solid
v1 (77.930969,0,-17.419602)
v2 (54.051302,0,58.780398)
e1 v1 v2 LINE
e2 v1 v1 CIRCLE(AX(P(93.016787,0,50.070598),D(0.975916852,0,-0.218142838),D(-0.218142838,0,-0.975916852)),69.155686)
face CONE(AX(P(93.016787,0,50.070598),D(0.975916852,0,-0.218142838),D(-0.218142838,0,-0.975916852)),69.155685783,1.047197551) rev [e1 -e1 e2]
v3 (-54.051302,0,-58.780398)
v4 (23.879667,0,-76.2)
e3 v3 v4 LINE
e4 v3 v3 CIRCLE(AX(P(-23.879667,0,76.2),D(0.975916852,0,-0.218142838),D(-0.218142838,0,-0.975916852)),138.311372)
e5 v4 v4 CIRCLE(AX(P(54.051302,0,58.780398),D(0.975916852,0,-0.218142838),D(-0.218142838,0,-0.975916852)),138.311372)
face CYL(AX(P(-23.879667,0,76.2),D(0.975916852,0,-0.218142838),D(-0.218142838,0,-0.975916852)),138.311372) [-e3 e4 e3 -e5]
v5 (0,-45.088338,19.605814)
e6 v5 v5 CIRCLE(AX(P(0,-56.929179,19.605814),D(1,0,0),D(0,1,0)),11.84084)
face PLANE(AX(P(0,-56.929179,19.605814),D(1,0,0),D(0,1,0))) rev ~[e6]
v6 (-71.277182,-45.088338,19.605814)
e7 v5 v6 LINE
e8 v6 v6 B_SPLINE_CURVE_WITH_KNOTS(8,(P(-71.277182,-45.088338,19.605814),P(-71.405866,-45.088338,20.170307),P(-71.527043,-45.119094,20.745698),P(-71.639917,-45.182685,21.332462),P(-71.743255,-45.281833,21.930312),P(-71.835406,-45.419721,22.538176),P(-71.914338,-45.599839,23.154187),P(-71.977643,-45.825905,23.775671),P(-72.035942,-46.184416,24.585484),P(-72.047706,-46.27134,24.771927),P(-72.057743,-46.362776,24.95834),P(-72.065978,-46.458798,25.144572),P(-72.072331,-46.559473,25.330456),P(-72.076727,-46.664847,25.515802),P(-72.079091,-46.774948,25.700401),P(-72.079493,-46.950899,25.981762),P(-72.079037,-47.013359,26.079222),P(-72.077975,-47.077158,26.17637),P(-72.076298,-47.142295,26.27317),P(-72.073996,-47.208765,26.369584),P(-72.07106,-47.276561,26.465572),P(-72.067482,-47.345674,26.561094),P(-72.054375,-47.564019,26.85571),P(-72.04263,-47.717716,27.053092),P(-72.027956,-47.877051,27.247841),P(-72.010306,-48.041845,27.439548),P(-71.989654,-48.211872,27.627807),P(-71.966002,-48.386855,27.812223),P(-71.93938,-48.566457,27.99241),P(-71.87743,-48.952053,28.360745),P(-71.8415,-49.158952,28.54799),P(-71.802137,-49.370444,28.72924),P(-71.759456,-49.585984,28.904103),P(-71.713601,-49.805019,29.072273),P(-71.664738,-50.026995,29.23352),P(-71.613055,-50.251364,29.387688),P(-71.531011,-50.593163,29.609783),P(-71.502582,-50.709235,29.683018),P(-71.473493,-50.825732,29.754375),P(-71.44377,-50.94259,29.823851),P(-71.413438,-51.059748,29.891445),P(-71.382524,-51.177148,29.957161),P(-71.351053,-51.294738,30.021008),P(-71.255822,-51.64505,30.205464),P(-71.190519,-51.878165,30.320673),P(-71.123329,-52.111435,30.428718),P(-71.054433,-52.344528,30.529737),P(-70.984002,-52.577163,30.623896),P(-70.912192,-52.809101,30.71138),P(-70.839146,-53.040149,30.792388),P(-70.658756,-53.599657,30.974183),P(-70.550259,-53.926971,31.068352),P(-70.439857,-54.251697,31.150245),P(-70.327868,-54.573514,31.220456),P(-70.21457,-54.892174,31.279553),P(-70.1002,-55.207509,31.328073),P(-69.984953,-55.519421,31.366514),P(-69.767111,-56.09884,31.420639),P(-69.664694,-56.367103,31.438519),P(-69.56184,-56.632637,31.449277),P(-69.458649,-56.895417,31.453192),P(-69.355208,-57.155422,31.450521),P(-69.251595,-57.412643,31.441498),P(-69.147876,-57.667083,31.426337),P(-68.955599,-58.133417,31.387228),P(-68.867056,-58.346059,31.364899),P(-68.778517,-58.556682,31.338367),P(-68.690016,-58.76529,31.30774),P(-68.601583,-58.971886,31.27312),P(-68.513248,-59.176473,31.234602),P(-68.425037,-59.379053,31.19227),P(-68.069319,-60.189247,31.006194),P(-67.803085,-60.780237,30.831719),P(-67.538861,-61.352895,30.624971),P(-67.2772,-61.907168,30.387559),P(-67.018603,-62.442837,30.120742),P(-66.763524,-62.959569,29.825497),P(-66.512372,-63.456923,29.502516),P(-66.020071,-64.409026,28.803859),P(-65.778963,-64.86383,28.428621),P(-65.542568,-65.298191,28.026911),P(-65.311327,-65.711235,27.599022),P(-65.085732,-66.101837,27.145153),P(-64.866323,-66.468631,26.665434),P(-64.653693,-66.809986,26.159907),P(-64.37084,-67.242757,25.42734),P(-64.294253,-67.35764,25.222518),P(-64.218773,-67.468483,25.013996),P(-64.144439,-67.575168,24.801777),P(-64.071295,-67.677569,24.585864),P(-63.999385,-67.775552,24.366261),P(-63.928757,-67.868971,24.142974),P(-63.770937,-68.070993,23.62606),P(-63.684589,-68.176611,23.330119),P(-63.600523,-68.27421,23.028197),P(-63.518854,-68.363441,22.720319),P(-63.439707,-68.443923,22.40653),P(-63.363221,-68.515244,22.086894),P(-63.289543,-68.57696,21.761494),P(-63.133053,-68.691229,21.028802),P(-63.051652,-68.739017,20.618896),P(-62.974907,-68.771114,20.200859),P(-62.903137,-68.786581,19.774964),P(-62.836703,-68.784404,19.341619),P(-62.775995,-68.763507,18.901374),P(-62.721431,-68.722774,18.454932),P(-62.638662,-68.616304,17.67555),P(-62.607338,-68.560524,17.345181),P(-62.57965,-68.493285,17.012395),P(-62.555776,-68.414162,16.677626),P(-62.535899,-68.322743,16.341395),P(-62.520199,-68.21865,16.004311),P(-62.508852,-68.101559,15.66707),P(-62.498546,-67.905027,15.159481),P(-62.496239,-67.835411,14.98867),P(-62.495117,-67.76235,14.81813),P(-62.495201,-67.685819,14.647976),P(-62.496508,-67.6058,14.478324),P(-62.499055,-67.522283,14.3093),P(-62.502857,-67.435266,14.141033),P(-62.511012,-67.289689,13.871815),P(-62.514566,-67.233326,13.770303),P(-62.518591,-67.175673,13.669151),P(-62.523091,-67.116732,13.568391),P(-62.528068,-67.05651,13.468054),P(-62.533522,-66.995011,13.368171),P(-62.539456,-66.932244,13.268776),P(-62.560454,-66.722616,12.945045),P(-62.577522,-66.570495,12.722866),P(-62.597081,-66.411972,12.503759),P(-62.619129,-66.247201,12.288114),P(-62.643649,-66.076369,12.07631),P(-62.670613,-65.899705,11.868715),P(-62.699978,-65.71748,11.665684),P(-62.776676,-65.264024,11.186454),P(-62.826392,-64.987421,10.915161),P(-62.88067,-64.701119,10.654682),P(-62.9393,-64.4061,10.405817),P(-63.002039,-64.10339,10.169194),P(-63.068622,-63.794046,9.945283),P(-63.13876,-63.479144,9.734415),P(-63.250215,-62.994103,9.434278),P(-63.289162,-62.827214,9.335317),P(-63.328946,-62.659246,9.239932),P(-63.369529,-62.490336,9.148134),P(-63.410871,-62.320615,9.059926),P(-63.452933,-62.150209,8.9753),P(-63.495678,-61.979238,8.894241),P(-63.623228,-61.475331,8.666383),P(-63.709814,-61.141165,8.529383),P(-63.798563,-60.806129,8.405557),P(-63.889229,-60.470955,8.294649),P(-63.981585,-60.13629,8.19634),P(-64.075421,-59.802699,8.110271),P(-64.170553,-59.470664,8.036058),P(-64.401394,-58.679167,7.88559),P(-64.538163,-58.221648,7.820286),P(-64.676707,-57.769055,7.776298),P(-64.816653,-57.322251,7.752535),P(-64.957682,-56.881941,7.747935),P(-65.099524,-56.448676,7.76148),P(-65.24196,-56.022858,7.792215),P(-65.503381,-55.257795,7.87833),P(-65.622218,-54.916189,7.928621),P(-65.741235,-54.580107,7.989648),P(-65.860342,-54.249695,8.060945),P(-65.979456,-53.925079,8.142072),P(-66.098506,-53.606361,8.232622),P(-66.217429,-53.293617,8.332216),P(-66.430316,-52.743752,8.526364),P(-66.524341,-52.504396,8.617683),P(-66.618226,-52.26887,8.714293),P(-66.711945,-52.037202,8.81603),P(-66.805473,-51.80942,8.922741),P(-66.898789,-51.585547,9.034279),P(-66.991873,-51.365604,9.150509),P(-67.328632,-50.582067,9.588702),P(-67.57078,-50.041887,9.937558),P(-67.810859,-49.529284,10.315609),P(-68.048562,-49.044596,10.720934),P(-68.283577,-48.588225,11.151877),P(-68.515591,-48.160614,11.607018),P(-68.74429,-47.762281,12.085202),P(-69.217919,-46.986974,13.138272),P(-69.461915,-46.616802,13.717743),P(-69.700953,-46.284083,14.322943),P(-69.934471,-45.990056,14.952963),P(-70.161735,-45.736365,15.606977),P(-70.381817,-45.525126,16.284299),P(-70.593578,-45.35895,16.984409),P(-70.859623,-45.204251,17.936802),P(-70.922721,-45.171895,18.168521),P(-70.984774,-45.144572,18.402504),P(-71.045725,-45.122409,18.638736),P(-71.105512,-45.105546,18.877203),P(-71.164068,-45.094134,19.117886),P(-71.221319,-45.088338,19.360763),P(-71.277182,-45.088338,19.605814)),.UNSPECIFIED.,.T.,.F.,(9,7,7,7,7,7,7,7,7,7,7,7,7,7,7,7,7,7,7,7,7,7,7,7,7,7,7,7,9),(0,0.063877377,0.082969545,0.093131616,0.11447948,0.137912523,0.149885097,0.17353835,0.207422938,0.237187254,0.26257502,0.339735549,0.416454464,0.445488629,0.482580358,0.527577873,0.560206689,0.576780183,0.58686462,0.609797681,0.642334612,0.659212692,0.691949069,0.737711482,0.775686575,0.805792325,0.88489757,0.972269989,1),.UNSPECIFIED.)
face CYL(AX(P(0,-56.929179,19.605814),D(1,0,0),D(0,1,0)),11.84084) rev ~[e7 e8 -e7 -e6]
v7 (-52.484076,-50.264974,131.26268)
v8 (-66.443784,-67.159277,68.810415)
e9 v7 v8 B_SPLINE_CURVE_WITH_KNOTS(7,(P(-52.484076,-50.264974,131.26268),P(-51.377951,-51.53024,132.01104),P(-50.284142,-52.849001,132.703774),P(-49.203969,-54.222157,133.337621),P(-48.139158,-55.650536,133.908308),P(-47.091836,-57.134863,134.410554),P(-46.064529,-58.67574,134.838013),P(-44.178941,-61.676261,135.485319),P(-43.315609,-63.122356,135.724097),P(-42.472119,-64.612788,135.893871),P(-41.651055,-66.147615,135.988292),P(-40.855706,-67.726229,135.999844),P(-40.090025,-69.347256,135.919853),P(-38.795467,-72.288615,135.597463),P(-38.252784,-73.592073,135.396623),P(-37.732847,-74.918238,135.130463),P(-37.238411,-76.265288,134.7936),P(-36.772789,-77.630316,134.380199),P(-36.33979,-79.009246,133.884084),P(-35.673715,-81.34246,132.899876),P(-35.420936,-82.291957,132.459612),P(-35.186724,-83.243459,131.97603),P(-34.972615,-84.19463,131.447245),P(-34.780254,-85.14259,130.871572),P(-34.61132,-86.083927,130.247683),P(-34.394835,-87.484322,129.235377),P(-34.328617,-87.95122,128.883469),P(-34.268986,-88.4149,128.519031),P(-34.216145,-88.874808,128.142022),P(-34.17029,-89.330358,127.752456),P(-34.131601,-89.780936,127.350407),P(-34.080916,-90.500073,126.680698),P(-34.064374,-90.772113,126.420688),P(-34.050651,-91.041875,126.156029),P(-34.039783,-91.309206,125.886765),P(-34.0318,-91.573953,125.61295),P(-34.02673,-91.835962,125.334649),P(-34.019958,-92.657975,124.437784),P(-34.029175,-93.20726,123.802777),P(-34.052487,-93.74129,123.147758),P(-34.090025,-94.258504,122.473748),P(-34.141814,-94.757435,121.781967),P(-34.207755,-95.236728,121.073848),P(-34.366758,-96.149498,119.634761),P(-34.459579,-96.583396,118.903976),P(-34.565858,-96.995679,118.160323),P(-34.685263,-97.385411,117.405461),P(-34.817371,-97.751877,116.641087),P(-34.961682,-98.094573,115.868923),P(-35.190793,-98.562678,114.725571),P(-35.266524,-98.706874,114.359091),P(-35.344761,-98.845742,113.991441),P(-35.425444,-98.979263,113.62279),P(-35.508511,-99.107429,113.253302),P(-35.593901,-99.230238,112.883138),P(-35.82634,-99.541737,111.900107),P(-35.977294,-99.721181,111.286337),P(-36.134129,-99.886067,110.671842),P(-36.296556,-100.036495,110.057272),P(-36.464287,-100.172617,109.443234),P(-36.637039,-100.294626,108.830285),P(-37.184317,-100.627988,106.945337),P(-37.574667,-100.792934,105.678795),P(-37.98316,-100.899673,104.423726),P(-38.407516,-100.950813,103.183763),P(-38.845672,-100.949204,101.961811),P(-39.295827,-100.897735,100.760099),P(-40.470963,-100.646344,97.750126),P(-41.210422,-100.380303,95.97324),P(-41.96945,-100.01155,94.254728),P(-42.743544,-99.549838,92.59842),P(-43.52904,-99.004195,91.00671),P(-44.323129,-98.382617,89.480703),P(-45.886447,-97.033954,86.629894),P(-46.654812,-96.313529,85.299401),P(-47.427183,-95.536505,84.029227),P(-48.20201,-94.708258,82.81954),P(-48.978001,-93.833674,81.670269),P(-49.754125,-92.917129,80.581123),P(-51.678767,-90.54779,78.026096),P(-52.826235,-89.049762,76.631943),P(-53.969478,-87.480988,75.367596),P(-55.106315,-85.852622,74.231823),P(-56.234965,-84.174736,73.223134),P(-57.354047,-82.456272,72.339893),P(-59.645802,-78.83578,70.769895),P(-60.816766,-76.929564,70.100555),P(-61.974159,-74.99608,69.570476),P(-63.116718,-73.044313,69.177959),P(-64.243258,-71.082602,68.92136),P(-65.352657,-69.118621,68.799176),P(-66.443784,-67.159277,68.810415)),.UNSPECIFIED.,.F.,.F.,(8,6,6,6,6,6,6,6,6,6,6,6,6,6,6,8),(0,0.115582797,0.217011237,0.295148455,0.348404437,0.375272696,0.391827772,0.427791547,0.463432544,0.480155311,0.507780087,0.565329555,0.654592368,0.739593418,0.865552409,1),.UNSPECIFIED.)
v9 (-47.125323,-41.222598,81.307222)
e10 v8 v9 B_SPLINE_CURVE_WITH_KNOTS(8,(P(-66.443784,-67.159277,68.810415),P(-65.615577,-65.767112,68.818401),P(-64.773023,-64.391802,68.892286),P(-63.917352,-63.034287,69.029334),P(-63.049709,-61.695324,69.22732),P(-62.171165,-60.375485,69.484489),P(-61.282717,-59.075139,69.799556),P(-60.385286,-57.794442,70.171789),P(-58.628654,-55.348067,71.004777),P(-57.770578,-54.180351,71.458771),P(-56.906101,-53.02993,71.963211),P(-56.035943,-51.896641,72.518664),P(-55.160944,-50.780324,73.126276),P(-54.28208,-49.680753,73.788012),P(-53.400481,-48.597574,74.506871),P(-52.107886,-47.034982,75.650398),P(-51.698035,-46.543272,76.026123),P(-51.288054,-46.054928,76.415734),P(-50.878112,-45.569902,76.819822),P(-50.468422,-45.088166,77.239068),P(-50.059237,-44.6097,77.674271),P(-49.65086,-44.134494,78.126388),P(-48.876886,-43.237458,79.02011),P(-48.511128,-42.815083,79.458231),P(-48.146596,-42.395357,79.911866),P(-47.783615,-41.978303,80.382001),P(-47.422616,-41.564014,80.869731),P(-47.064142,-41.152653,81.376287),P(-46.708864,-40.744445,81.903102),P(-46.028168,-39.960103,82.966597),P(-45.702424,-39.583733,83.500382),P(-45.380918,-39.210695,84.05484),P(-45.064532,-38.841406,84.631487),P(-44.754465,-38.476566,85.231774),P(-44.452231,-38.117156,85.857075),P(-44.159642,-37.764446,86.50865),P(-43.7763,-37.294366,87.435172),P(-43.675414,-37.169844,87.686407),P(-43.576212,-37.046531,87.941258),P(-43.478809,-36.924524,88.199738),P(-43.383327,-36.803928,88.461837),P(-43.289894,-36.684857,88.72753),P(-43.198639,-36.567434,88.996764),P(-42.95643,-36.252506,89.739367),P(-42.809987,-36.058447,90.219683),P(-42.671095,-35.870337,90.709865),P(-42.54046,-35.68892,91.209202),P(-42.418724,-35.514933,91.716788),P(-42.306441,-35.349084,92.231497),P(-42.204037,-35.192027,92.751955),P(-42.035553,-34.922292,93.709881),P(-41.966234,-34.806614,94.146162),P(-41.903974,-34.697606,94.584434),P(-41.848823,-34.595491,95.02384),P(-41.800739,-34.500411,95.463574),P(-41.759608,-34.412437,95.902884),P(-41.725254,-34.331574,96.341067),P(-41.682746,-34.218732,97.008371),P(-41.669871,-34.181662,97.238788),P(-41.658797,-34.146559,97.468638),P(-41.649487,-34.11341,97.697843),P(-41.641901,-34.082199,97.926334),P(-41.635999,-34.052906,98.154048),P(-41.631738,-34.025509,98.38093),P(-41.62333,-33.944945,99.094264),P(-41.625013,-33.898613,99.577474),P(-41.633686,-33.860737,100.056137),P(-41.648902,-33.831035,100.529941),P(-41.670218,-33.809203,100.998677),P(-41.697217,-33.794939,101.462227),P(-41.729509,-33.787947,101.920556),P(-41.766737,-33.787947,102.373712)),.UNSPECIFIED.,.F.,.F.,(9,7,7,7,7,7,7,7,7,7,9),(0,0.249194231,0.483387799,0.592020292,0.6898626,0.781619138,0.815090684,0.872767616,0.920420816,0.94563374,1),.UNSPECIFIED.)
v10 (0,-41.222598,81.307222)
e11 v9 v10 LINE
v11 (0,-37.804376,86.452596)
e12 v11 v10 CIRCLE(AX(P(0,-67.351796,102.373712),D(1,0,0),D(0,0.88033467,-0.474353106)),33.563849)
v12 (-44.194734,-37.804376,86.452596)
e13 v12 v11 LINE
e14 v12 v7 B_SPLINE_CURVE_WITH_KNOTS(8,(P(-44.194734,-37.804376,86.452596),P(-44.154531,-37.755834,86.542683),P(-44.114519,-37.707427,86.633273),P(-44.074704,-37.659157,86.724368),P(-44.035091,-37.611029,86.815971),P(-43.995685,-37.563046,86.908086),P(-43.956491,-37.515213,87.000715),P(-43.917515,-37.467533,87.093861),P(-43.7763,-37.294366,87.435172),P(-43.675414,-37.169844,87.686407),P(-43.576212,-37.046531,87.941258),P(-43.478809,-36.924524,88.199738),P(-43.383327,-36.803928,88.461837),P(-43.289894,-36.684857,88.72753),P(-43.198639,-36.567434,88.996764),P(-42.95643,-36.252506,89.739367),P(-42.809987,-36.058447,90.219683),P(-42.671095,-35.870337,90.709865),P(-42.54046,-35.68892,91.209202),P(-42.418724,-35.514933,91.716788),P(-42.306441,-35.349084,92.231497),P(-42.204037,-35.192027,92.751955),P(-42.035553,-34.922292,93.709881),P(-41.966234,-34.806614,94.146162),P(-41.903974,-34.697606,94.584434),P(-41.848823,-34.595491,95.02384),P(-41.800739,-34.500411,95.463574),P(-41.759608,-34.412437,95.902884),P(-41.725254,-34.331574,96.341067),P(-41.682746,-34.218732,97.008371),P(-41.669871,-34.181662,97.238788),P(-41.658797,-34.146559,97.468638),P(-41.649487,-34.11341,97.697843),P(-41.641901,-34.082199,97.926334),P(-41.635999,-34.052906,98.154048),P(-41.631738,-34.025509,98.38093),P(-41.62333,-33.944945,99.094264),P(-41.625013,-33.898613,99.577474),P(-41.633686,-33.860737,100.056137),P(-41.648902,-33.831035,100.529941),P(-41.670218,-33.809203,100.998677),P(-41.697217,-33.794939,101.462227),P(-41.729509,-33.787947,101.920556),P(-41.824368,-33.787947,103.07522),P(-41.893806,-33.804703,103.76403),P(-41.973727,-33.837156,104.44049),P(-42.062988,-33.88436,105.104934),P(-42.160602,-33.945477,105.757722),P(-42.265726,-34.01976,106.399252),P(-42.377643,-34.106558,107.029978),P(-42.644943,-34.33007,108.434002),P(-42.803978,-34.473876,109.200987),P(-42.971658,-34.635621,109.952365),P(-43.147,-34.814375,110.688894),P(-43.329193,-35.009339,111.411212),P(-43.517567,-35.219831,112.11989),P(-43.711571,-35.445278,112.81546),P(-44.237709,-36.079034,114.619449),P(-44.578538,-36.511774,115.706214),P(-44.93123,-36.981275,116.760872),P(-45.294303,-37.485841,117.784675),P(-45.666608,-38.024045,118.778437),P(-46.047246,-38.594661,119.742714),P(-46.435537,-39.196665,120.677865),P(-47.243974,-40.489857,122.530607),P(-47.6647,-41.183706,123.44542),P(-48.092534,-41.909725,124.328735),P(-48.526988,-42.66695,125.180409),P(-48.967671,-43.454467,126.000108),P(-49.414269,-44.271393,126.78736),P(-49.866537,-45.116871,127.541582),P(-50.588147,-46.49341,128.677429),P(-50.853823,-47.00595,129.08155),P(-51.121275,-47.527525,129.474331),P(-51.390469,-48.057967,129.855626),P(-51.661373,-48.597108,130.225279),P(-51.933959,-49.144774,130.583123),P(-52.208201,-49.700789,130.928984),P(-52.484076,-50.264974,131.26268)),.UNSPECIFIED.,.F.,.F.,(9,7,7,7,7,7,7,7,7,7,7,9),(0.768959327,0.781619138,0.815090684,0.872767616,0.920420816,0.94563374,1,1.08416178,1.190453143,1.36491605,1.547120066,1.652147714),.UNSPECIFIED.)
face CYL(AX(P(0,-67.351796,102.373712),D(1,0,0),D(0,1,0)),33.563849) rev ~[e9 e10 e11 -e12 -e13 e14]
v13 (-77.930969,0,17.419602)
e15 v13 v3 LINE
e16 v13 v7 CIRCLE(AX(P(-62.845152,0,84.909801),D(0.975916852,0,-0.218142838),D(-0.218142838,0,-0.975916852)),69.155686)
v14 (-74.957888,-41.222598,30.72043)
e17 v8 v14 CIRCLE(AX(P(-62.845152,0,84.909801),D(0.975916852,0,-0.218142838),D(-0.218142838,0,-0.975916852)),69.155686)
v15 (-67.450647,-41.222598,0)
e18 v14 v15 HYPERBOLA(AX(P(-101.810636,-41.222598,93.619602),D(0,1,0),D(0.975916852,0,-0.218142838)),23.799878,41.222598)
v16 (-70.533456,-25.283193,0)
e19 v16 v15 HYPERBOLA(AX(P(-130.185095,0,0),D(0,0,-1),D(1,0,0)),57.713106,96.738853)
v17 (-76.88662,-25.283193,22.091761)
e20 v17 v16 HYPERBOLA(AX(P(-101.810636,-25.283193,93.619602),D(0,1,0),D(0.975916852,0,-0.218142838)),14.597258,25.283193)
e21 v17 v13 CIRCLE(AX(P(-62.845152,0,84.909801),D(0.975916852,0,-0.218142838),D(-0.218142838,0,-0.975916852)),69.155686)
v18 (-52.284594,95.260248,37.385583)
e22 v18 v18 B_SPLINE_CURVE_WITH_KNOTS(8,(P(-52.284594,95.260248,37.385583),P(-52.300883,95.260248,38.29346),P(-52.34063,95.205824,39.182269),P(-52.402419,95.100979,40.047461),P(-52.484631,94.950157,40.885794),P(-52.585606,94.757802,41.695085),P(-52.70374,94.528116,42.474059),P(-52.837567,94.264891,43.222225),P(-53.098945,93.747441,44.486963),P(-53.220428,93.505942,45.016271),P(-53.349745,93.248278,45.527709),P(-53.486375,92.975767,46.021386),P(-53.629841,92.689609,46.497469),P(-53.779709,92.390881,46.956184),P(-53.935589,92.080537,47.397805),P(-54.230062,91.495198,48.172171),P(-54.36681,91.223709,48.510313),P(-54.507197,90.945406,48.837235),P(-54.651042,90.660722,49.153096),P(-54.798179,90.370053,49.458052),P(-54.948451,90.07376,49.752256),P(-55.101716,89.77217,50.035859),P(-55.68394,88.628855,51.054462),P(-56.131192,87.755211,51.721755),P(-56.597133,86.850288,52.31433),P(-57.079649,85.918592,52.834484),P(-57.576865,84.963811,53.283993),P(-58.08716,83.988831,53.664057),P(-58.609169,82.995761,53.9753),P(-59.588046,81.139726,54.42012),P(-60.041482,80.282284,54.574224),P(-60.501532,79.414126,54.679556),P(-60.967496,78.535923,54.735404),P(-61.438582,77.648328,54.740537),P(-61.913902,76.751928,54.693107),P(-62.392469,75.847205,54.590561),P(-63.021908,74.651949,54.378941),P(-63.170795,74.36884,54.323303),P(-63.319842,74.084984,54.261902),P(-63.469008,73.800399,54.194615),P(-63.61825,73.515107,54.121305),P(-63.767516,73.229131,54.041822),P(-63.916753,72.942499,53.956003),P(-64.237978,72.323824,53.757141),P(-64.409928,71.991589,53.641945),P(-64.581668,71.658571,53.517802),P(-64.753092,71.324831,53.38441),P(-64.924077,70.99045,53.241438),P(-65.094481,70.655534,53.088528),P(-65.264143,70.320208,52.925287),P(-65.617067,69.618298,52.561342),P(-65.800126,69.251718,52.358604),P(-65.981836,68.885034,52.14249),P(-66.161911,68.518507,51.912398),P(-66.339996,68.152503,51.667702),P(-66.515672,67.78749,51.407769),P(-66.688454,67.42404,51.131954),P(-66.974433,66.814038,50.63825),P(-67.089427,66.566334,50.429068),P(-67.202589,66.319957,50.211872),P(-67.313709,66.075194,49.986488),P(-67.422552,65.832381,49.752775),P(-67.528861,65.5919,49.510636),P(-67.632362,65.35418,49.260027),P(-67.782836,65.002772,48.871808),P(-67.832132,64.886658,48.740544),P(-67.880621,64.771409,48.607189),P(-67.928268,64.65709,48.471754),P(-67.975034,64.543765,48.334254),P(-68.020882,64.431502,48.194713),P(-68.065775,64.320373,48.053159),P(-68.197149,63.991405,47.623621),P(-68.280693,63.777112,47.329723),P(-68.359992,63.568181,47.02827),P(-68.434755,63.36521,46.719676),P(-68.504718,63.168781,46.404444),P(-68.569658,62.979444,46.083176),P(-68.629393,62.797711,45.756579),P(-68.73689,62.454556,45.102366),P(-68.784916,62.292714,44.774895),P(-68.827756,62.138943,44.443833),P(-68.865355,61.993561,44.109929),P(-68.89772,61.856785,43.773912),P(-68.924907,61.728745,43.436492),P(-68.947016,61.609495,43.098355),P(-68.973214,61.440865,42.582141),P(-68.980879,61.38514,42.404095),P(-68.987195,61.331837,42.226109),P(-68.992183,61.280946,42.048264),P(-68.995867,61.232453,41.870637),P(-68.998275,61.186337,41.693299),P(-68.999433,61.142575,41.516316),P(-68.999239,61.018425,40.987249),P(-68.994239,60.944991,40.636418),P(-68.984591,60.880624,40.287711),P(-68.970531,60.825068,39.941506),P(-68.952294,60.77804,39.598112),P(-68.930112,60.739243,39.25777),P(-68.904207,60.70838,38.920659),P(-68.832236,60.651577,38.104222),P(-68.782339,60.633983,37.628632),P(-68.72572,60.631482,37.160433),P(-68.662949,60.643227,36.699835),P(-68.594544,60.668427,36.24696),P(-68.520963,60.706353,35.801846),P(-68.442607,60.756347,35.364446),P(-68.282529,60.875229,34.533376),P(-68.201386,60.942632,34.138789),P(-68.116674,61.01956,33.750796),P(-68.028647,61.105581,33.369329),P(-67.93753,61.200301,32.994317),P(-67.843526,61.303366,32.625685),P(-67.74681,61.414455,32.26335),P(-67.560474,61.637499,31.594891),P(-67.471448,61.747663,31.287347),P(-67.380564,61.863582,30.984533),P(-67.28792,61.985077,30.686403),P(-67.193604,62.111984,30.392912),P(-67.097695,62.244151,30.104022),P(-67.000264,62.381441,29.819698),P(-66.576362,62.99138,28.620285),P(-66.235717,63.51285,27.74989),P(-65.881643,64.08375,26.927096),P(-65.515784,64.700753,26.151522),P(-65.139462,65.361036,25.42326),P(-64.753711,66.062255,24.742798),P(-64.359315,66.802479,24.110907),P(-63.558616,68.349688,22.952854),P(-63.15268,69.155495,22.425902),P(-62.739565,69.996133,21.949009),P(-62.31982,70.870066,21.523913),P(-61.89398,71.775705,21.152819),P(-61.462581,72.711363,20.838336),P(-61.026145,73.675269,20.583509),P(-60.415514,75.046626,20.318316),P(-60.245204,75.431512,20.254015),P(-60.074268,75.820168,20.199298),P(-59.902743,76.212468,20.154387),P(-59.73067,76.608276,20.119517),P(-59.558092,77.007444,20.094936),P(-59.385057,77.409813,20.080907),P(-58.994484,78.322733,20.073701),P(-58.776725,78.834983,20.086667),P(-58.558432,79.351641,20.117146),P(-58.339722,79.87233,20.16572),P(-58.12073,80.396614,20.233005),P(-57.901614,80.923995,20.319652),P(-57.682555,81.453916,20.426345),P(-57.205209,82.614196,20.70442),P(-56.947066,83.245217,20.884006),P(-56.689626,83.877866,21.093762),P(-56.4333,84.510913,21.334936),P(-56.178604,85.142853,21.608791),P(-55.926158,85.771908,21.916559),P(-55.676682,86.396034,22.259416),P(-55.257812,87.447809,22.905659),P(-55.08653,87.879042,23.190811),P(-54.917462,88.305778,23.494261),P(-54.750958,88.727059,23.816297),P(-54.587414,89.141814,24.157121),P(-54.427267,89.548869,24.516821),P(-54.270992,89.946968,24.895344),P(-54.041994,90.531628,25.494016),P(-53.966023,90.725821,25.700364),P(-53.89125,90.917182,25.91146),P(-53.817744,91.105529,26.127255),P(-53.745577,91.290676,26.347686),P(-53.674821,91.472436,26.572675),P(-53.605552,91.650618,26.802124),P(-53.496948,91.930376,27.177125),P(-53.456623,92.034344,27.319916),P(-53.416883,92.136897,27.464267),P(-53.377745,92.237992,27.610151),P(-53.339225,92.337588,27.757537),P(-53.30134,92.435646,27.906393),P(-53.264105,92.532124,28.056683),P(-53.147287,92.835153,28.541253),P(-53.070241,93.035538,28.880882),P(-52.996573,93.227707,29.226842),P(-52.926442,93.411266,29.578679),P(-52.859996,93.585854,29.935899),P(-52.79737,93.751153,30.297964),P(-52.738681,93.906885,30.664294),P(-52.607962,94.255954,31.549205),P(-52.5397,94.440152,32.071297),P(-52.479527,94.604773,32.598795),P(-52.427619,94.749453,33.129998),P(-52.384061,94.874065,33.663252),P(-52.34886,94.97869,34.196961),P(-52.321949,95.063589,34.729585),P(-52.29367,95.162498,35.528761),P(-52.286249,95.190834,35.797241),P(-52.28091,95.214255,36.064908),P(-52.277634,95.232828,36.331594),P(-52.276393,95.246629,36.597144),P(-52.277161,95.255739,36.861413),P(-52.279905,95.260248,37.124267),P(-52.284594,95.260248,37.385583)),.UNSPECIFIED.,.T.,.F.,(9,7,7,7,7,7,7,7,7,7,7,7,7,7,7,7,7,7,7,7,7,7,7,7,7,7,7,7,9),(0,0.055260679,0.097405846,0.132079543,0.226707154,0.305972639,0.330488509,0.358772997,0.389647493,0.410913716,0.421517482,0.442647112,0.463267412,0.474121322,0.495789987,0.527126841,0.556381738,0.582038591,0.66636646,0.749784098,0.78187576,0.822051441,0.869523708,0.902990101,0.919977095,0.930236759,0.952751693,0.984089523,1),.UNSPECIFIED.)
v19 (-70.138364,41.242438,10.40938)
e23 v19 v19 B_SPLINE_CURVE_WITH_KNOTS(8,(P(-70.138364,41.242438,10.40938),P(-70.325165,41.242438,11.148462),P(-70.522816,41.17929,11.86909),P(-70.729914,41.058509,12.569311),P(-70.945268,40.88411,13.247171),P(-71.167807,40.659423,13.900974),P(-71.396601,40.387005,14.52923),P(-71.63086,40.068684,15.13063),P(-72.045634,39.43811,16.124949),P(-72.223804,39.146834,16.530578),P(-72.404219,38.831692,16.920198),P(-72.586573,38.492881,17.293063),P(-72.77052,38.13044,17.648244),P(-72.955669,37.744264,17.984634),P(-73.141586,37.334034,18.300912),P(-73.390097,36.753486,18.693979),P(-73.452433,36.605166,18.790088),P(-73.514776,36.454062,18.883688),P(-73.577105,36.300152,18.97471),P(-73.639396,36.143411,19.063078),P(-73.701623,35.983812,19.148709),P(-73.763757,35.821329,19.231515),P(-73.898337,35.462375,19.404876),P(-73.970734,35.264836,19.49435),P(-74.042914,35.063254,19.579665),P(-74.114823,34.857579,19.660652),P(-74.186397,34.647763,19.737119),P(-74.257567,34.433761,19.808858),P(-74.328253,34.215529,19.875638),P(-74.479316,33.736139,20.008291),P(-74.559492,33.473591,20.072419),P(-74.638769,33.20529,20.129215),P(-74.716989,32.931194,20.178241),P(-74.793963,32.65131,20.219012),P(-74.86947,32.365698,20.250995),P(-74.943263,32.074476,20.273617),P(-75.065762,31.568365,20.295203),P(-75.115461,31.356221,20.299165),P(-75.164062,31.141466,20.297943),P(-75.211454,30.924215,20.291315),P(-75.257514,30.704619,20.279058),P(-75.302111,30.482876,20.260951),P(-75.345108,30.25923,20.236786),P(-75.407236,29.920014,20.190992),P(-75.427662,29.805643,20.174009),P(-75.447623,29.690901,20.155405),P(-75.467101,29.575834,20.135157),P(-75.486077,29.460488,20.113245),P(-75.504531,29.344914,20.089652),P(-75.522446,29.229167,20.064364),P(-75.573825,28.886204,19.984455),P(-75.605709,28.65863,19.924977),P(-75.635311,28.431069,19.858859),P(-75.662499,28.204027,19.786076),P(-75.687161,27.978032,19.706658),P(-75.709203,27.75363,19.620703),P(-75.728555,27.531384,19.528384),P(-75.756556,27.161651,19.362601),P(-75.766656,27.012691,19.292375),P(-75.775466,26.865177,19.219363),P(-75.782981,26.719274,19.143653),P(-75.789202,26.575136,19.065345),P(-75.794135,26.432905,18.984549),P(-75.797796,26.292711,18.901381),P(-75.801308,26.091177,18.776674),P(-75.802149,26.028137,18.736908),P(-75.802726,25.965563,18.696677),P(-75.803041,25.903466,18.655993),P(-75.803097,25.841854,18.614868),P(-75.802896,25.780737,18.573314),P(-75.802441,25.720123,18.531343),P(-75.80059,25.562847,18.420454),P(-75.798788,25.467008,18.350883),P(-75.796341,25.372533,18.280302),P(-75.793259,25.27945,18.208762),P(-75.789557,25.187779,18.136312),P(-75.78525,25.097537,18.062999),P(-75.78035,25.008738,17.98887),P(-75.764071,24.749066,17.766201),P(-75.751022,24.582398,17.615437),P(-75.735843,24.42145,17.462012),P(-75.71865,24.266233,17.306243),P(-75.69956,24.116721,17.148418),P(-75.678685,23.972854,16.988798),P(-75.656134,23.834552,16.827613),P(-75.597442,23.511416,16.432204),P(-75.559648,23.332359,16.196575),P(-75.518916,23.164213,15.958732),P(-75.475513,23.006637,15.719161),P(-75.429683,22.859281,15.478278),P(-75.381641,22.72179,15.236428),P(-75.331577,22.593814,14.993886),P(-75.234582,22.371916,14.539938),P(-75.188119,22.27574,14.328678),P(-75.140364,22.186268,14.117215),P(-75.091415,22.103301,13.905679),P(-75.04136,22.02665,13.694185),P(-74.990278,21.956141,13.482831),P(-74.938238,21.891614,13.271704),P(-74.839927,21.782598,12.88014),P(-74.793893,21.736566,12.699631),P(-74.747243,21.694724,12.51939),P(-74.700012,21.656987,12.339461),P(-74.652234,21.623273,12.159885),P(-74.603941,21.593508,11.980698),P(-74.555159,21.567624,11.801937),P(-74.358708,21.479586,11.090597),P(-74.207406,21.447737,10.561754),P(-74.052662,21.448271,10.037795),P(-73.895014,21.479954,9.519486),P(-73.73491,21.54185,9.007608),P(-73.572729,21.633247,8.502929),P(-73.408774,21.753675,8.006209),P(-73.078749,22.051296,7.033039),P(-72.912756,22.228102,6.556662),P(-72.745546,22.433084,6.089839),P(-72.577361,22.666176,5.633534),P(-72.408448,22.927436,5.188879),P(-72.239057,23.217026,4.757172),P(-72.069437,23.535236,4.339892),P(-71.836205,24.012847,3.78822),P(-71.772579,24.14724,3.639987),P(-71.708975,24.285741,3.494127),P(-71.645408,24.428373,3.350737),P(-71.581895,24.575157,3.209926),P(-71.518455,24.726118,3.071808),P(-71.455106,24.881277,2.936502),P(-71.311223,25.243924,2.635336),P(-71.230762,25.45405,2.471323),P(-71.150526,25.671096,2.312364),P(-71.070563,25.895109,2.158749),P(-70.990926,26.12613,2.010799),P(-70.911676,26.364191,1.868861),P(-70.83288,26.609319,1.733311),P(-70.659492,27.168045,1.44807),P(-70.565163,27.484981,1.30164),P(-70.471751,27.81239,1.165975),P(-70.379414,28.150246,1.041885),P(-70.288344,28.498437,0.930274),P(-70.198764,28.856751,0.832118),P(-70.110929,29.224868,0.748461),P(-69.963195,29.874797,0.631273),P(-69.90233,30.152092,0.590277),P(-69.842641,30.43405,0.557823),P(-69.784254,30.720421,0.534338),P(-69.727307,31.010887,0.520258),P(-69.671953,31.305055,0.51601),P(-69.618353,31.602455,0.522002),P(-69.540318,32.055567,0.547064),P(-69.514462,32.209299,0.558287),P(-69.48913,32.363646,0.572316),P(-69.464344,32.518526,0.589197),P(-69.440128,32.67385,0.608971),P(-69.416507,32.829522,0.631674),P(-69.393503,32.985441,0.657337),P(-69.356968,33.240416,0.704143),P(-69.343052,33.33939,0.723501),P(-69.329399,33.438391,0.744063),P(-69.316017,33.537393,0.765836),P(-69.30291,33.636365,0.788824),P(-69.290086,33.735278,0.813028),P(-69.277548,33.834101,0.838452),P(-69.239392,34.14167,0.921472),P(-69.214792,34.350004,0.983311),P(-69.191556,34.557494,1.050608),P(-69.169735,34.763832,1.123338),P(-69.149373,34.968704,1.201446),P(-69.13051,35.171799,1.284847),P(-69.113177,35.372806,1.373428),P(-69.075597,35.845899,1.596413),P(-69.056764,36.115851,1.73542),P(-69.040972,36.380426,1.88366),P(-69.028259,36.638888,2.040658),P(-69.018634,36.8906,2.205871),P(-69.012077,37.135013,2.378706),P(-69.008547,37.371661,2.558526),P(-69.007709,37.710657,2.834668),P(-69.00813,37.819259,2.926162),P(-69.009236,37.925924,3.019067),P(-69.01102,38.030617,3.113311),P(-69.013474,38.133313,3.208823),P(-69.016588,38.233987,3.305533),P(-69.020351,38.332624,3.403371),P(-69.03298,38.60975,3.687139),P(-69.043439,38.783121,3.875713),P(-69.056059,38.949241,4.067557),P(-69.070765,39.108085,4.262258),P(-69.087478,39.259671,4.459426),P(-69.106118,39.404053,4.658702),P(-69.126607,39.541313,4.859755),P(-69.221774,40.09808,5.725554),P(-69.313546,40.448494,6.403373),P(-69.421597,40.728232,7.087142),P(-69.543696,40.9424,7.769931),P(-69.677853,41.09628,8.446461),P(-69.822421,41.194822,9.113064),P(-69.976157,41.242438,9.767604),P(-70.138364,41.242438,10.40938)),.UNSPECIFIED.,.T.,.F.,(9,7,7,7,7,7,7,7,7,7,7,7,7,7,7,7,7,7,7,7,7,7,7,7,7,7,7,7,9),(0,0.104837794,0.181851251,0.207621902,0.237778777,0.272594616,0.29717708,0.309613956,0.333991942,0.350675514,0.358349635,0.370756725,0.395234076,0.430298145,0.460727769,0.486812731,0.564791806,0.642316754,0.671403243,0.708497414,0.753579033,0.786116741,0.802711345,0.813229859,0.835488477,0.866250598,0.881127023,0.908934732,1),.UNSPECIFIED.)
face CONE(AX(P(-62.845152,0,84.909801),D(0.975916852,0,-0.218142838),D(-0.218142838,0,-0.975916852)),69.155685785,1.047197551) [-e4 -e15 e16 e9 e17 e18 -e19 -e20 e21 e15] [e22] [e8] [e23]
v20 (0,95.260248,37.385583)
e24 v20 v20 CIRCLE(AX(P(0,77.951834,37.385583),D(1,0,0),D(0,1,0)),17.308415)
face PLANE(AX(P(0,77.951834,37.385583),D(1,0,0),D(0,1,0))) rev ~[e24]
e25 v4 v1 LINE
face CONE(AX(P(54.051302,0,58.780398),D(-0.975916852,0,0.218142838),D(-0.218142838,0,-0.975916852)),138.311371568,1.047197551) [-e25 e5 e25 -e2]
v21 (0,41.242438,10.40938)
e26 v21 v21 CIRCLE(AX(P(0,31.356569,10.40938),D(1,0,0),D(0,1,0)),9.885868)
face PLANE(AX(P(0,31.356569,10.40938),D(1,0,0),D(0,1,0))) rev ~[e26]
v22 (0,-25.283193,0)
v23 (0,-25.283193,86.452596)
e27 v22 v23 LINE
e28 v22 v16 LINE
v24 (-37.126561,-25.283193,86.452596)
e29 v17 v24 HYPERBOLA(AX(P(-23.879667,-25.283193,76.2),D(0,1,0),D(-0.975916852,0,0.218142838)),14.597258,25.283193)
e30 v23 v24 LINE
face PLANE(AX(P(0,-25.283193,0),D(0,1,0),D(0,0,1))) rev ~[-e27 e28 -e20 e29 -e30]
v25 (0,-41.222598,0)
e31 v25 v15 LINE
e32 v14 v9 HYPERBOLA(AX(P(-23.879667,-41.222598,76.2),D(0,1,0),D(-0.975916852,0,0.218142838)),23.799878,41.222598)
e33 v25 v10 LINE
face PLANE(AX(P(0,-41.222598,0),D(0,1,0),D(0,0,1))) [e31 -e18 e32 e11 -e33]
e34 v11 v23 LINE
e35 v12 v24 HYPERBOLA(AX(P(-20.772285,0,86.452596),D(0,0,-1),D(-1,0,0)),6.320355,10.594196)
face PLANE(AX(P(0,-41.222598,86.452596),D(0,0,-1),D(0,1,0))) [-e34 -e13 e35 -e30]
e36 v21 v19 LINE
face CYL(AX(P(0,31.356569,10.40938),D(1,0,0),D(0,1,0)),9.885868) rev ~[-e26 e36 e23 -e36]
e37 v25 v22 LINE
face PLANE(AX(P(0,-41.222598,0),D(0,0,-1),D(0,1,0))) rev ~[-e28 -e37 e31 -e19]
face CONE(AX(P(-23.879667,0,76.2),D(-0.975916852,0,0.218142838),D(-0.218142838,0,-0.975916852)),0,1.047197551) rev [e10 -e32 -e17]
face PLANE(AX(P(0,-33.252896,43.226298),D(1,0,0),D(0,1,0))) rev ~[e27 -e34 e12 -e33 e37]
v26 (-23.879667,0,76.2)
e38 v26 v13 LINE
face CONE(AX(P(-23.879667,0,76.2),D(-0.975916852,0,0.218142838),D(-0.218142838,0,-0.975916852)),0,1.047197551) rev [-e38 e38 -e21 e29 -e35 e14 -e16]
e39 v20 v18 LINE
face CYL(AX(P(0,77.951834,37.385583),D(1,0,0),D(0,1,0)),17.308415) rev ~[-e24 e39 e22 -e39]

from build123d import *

# Parameters (mm, degrees)
F2_R     = 17.3084147979
F2_R_2   = 9.8858681408
F2_R_3   = 11.8408403521
F2_R_4   = 33.563848705
F3_DEPTH = 77.9319693274
F4_W     = 15.939405188
F4_H     = 86.4525958896
F5_DEPTH = 77.9319694274


with BuildPart() as f1:
    # F0 (on Front) → F1 (revolve)
    with BuildSketch(Plane.XZ):
        Polygon((23.8796671181, -76.2), (77.9309693274, -17.4196016418), (54.0513022093, 58.7803983582), (-23.8796671181, 76.2), (-77.9309693274, 17.4196016418), (-54.0513022093, -58.7803983582), align=None)
    revolve(axis=Axis((15.0858175456, 0, 67.4901991791), (0.9759168522, 0, -0.2181428378)))

    # F2 (on Right) → F3 (cut, through all)
    with BuildSketch(Plane.YZ):
        with Locations((77.9518336058, 37.3855829239)):
            Circle(F2_R)
        with Locations((31.3565693796, 10.4093803093)):
            Circle(F2_R_2)
        with Locations((-56.9291785359, 19.605813548)):
            Circle(F2_R_3)
        with Locations((-67.351795733, 102.3737117648)):
            Circle(F2_R_4)
    extrude(amount=-F3_DEPTH, mode=Mode.SUBTRACT)

    # F4 (on Right) → F5 (cut, through all)
    with BuildSketch(Plane.YZ):
        with Locations((-33.2528958097, 43.2262979448)):
            Rectangle(F4_W, F4_H)
    extrude(amount=-F5_DEPTH, mode=Mode.SUBTRACT)


solid = f1.part
